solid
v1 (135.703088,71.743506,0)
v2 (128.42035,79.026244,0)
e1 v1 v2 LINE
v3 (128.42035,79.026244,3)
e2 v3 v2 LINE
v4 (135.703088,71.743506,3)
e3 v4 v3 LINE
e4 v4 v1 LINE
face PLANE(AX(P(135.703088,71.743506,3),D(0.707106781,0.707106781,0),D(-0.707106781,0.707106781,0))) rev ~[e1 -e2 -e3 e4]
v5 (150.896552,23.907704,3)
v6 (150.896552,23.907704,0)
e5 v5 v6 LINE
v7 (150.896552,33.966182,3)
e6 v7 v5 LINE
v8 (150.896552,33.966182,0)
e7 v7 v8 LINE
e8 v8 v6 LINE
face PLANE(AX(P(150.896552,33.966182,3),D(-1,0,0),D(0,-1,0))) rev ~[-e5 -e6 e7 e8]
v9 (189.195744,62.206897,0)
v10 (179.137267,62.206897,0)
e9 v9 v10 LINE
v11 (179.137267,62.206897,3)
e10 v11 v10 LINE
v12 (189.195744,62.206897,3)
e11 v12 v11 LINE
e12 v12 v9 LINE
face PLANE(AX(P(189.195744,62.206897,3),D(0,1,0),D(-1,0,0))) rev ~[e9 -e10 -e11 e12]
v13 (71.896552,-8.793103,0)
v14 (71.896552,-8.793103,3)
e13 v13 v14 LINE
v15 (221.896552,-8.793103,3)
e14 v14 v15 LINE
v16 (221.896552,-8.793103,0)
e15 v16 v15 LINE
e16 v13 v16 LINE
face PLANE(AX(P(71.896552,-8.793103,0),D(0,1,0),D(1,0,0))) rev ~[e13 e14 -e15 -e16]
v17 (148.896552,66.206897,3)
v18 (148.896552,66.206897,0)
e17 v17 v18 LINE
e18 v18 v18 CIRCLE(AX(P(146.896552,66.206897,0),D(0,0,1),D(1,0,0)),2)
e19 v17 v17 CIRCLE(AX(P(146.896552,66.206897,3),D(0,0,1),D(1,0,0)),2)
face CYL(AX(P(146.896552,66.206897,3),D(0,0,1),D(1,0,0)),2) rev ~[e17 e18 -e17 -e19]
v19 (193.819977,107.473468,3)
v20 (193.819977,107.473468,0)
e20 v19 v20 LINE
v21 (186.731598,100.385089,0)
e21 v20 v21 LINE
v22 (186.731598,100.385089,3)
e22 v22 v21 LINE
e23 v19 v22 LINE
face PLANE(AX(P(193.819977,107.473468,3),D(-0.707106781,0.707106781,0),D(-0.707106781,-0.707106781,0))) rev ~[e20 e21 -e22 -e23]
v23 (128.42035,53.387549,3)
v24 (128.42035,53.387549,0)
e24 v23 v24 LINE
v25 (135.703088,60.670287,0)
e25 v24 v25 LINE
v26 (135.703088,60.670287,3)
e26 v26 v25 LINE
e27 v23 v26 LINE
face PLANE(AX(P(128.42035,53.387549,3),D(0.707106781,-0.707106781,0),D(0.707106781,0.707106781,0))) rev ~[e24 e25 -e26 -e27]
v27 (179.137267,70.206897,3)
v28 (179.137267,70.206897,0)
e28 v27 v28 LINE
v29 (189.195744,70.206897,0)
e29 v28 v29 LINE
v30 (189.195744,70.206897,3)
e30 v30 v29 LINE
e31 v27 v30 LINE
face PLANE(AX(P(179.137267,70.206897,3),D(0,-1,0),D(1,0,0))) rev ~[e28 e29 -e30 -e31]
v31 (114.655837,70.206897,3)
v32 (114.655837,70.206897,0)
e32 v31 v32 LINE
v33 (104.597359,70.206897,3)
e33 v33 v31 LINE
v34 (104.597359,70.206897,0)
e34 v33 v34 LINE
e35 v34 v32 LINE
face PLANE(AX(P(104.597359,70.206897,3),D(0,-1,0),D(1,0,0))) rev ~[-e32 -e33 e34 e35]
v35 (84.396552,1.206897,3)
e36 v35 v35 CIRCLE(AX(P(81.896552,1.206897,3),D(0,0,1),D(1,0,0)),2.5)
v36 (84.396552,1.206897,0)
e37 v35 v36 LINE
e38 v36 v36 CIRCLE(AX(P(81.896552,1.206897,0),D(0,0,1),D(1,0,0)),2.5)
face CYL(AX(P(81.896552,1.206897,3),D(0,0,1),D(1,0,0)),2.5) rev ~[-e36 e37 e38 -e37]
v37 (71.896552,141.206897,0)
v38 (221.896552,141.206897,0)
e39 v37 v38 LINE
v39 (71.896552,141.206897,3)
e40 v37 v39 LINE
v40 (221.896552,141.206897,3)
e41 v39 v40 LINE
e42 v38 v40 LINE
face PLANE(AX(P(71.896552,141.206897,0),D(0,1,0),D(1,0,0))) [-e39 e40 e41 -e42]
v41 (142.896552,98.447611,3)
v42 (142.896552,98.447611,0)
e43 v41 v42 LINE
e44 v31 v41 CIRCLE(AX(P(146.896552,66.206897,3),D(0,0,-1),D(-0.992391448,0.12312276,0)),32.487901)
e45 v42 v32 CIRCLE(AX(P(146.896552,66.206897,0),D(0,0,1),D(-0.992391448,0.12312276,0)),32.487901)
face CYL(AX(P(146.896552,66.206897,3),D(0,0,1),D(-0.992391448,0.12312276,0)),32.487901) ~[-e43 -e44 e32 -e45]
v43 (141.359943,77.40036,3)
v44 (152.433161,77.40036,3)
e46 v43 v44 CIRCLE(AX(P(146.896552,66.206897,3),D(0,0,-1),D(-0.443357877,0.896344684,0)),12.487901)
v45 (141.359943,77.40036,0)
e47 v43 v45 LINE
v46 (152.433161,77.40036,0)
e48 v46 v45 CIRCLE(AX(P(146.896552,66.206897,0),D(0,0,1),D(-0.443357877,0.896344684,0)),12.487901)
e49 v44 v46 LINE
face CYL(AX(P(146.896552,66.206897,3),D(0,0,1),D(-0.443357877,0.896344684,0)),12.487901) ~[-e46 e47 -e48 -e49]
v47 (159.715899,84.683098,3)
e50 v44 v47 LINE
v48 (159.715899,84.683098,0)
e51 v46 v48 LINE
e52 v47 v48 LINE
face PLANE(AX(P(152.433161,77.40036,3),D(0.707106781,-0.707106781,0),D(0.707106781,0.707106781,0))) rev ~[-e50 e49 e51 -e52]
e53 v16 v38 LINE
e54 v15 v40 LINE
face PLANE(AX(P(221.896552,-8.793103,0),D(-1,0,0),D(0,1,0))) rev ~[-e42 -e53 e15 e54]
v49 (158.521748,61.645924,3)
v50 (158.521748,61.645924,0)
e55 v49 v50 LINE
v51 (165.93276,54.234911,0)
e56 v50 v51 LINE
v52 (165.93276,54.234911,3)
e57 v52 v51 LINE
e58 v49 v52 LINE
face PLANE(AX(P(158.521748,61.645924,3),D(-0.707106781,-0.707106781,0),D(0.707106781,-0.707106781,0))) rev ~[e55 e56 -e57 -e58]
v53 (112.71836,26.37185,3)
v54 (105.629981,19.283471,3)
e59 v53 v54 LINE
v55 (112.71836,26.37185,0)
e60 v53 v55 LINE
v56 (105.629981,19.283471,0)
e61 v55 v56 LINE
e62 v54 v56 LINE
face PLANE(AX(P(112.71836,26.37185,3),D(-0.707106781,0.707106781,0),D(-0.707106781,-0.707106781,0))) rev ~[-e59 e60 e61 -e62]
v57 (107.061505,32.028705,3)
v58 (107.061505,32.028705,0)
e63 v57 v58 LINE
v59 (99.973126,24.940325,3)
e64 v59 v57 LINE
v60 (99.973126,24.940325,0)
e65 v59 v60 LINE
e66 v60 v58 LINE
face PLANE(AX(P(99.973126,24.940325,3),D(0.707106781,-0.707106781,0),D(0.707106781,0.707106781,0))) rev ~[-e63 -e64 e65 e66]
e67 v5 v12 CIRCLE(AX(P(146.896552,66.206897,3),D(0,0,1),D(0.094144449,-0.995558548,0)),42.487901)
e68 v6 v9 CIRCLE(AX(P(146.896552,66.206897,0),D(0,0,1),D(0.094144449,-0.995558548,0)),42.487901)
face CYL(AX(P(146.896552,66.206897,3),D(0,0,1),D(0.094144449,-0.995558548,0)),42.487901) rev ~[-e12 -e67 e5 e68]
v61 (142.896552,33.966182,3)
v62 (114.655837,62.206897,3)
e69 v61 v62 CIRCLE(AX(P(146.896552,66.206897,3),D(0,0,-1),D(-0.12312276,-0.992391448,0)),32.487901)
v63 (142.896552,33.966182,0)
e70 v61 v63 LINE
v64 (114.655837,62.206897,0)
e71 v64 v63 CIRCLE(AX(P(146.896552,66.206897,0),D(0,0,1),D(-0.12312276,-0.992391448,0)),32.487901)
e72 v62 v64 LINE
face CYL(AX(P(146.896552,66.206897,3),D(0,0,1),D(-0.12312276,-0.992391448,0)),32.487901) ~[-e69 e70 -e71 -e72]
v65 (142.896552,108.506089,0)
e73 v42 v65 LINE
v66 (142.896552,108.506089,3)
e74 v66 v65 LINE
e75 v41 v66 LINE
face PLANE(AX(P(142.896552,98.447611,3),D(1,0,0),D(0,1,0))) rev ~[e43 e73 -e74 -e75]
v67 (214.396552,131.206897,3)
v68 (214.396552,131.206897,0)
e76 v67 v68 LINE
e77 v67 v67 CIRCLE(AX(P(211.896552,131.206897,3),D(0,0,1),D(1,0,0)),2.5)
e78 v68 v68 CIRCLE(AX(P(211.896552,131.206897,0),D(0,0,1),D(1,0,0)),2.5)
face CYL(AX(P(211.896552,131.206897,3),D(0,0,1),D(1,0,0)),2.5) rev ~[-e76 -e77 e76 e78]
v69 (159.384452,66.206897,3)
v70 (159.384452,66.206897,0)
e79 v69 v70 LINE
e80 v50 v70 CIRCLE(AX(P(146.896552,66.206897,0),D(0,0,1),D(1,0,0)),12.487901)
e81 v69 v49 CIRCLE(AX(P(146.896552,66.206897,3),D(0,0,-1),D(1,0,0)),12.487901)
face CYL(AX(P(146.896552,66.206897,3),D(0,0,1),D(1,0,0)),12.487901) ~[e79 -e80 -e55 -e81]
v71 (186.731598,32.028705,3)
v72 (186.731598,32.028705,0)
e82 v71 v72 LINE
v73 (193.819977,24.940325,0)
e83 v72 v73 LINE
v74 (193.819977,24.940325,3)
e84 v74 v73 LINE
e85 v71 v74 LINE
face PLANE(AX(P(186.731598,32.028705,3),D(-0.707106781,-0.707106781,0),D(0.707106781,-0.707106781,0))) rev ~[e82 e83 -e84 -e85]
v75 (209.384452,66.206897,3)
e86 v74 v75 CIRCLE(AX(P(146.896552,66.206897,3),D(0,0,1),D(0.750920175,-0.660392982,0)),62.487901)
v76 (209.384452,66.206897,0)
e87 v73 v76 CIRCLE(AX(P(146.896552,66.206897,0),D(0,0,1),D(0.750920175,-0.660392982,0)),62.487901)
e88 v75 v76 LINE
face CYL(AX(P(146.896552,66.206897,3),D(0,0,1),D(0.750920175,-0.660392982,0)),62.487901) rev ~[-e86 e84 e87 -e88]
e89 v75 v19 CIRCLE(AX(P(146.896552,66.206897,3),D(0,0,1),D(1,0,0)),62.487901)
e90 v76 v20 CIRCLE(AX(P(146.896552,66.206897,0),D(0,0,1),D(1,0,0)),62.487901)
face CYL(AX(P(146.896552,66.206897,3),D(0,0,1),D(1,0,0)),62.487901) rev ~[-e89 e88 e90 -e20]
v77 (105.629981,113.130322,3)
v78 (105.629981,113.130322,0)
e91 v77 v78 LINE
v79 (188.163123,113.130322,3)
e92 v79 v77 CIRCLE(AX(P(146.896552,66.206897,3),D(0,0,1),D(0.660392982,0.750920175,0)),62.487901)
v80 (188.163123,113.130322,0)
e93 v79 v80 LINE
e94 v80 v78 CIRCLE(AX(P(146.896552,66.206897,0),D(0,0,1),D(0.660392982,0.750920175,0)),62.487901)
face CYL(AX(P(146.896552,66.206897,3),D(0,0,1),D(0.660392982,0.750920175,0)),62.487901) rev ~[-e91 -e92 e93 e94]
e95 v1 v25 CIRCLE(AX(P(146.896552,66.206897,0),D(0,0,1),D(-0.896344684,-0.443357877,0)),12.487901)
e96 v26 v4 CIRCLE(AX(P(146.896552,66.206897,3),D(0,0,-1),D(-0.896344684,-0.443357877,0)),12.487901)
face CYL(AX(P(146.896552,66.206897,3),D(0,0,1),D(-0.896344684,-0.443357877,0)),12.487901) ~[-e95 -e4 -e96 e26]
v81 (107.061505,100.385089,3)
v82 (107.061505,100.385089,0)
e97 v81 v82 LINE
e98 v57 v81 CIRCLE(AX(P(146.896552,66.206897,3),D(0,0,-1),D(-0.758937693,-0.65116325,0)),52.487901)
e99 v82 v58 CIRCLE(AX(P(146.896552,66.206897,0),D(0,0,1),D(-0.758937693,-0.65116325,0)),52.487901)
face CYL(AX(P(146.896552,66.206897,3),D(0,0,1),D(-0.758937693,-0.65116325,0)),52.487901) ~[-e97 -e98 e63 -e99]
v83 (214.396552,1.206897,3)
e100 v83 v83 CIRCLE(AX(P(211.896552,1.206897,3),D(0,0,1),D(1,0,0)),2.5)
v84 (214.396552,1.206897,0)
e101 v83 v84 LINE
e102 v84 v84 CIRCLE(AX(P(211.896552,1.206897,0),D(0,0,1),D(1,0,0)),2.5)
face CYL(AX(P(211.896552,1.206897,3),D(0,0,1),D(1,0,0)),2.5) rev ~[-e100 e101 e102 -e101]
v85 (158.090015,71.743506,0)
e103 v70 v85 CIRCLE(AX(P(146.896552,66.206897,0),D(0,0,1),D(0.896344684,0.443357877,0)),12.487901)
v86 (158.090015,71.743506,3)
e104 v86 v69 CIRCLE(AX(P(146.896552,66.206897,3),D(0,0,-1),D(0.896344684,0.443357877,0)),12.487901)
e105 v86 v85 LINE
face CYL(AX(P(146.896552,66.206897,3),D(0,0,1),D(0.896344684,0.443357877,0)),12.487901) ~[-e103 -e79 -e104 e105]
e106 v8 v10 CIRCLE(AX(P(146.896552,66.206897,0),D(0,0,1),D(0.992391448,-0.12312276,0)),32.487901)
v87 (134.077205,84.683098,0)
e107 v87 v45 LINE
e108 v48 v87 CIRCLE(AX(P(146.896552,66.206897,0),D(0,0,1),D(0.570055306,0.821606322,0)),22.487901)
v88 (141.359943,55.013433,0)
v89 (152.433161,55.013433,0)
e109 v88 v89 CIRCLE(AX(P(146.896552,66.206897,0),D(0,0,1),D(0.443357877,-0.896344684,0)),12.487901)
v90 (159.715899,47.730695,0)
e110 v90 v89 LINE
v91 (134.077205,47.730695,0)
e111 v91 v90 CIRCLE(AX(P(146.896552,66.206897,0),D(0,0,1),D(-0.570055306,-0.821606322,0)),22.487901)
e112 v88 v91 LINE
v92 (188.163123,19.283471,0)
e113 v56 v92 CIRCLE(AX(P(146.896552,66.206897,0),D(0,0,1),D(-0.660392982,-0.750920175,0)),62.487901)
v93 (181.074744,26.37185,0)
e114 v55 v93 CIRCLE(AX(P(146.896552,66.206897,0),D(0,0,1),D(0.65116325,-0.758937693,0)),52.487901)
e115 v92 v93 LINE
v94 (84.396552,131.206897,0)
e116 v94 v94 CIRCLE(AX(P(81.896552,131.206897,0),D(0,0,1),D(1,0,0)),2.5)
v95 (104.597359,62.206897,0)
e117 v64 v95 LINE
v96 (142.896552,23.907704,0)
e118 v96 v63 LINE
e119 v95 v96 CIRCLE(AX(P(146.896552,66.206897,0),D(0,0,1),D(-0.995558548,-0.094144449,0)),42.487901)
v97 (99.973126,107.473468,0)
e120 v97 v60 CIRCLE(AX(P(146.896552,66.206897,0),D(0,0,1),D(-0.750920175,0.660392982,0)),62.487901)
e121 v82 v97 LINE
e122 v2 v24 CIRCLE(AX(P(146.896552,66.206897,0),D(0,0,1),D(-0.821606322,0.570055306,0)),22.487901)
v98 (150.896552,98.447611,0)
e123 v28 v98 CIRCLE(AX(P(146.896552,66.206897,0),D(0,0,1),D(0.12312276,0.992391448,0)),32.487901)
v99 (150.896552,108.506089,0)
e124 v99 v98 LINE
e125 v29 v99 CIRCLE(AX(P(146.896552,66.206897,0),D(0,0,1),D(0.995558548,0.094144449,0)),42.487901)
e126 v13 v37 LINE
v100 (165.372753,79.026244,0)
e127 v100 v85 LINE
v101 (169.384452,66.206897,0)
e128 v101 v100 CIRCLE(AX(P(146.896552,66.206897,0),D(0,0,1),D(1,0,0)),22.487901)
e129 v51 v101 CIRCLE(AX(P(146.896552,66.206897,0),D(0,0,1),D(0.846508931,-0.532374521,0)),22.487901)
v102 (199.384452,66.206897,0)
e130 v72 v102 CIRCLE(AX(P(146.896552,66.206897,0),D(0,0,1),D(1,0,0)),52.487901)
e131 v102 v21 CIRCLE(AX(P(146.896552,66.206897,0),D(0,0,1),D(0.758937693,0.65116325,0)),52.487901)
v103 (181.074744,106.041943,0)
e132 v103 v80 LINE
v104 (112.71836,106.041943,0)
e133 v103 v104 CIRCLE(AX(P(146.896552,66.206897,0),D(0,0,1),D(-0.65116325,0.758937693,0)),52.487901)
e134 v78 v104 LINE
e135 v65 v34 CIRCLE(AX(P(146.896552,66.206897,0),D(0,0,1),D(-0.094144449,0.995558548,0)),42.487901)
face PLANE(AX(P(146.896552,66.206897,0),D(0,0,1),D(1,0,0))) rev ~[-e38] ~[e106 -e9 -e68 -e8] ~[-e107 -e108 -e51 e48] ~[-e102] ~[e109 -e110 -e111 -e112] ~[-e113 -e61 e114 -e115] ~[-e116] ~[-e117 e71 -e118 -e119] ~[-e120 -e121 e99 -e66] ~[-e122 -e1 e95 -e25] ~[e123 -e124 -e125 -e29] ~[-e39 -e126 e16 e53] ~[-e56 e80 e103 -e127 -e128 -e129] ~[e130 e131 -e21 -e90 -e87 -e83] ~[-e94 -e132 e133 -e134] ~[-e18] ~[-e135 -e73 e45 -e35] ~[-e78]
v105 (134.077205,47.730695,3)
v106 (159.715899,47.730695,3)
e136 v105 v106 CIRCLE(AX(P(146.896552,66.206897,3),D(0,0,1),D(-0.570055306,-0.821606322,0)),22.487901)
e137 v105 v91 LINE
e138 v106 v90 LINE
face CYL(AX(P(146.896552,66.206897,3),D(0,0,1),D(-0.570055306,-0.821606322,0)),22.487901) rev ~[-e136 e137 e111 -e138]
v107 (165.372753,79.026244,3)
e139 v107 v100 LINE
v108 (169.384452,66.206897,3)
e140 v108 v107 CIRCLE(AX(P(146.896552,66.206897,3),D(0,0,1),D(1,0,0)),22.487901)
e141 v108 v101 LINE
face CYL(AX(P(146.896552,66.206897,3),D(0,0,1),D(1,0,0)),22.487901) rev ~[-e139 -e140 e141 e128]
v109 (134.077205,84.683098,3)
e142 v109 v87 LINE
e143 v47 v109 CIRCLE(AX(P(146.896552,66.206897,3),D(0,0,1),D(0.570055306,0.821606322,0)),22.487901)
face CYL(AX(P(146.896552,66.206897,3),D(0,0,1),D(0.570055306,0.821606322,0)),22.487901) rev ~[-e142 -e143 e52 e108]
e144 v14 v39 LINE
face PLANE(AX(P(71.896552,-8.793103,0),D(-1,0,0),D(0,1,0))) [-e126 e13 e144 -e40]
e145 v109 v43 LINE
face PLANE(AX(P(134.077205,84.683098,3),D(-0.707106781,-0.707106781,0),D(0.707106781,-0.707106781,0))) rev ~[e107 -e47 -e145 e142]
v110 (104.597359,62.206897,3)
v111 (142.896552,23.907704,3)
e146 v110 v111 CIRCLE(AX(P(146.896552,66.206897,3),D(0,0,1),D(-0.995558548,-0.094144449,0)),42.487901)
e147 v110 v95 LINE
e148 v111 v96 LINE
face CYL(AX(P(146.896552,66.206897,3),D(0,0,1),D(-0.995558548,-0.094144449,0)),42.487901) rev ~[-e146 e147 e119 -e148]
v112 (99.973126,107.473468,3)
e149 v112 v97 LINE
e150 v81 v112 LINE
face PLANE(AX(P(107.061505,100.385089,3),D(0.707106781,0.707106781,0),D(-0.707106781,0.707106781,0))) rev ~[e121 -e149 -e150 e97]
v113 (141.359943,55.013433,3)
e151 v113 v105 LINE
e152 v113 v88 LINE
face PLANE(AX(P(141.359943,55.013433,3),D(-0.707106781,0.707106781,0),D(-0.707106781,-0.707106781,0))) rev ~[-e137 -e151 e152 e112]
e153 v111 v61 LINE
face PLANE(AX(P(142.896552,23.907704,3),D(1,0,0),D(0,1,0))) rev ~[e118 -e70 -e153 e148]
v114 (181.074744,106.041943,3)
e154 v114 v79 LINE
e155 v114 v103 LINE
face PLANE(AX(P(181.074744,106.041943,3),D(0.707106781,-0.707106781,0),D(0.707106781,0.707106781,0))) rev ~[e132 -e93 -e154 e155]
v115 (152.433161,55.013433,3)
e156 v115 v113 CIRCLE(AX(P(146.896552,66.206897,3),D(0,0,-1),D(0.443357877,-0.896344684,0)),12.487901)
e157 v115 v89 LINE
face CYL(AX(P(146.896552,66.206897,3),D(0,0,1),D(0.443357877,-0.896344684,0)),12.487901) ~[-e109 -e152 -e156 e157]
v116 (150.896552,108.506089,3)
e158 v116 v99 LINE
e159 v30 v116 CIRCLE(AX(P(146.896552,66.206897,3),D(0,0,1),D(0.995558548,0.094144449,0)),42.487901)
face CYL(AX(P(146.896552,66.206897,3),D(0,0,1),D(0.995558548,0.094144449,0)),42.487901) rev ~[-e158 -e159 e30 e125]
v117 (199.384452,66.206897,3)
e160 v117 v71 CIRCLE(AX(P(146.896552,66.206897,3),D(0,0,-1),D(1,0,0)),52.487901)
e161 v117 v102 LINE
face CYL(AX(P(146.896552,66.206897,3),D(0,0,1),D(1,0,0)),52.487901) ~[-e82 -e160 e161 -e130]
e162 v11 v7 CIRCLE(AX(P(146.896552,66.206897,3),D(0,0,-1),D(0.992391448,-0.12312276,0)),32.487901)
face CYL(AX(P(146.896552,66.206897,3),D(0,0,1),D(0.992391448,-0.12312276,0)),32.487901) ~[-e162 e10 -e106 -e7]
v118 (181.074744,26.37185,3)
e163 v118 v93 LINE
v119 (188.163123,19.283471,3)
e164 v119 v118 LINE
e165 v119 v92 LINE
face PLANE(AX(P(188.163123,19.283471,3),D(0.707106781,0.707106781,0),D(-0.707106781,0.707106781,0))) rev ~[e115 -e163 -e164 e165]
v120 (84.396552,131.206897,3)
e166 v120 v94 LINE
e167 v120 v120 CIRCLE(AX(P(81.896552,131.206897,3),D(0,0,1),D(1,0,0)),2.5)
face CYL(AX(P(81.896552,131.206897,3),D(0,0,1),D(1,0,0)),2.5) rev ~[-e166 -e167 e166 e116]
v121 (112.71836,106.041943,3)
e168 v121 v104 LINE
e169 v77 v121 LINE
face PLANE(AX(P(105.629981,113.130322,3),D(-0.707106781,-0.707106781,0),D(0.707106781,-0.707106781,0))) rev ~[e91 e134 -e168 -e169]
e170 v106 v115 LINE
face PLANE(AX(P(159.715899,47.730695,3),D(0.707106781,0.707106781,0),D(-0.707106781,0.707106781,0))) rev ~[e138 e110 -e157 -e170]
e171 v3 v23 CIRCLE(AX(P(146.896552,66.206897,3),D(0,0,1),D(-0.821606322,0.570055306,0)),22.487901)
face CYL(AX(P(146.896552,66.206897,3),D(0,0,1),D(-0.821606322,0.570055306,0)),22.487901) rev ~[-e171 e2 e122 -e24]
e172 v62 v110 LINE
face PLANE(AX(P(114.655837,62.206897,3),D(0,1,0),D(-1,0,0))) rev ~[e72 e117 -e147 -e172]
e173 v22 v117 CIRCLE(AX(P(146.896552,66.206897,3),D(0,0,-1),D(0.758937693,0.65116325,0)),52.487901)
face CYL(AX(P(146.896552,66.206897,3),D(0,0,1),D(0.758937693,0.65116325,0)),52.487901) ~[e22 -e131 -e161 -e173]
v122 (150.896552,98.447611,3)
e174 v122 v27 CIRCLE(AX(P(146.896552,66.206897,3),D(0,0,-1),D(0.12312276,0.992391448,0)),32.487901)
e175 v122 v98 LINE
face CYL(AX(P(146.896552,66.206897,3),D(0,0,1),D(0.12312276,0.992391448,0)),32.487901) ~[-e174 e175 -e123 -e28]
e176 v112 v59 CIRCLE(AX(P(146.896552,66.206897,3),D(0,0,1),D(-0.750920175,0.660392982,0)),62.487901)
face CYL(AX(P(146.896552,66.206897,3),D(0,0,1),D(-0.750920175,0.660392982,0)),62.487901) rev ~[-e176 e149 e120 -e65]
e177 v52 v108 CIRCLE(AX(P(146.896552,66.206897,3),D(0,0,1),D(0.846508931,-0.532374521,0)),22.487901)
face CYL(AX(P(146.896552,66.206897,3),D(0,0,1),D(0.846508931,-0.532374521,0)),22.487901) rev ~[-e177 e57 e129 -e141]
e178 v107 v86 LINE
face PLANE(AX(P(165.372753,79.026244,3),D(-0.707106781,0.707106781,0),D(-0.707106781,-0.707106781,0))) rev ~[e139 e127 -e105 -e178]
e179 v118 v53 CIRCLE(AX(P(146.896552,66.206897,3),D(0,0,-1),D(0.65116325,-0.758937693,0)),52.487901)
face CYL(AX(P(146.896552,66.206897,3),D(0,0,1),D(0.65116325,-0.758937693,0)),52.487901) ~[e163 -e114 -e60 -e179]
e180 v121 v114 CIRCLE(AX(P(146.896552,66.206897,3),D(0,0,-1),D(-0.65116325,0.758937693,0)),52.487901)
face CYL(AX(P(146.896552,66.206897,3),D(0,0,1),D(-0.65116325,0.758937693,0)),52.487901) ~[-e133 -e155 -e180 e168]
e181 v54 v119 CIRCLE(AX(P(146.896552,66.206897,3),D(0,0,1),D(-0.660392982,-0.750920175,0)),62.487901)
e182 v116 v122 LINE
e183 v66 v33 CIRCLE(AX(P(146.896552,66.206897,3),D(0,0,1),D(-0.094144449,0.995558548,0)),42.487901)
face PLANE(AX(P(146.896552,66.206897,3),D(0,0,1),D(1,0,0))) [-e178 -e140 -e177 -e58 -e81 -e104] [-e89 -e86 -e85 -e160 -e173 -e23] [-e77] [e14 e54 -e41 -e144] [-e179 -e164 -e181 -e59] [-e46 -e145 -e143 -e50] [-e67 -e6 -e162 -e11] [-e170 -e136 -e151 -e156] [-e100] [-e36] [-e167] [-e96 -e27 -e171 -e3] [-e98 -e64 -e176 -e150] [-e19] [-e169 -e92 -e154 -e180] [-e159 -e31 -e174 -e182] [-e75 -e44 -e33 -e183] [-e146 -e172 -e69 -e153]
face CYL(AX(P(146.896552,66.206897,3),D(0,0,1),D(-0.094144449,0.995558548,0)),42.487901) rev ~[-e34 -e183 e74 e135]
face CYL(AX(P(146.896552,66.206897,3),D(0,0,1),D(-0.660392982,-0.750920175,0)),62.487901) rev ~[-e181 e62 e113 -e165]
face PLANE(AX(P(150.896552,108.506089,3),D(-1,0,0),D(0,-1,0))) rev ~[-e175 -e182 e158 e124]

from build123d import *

# Parameters (mm, degrees)
SKETCH1_W           = 150
SKETCH1_H           = 150
BOSS_EXTRUDE1_DEPTH = 3
CUT_EXTRUDE1_DEPTH  = 264.0332057
SKETCH4_R           = 2.5
CUT_EXTRUDE2_DEPTH  = 3
SKETCH5_R           = 2
CUT_EXTRUDE3_DEPTH  = 10


with BuildPart() as part:
    # Sketch1 → Boss-Extrude1 (new body)
    with BuildSketch(Plane.XY):
        with Locations((146.896551724, 66.206896552)):
            Rectangle(SKETCH1_W, SKETCH1_H)
    extrude(amount=BOSS_EXTRUDE1_DEPTH)

    # Sketch2 → Cut-Extrude1 (cut, through all)
    with BuildSketch(Plane.XY.offset(3)):
        with BuildLine():
            ThreePointArc((188.163122783, 113.13032186), (146.896551724, 128.694797217), (105.629980666, 113.13032186))
            Line((105.629980666, 113.13032186), (112.718359737, 106.041942789))
            ThreePointArc((112.718359737, 106.041942789), (146.896551724, 118.694797217), (181.074743712, 106.041942789))
            Line((181.074743712, 106.041942789), (188.163122783, 113.13032186))
        make_face()
        with BuildLine():
            Line((107.061505487, 100.385088539), (99.973126416, 107.47346761))
            ThreePointArc((99.973126416, 107.47346761), (84.408651059, 66.206896552), (99.973126416, 24.940325493))
            Line((99.973126416, 24.940325493), (107.061505487, 32.028704564))
            ThreePointArc((107.061505487, 32.028704564), (94.408651059, 66.206896552), (107.061505487, 100.385088539))
        make_face()
        with BuildLine():
            ThreePointArc((209.384452389, 66.206896552), (205.363995952, 88.259009716), (193.819977032, 107.47346761))
            Line((193.819977032, 107.47346761), (186.731597961, 100.385088539))
            ThreePointArc((186.731597961, 100.385088539), (196.119705149, 84.429434333), (199.384452389, 66.206896552))
            ThreePointArc((199.384452389, 66.206896552), (196.119705149, 47.984358771), (186.731597961, 32.028704564))
            Line((186.731597961, 32.028704564), (193.819977032, 24.940325493))
            ThreePointArc((193.819977032, 24.940325493), (205.363995952, 44.154783387), (209.384452389, 66.206896552))
        make_face()
        with BuildLine():
            Line((112.718359737, 26.371850315), (105.629980666, 19.283471244))
            ThreePointArc((105.629980666, 19.283471244), (146.896551724, 3.718995886), (188.163122783, 19.283471244))
            Line((188.163122783, 19.283471244), (181.074743712, 26.371850315))
            ThreePointArc((181.074743712, 26.371850315), (146.896551724, 13.718995886), (112.718359737, 26.371850315))
        make_face()
        with BuildLine():
            ThreePointArc((150.896551724, 23.907703853), (176.940034403, 36.163413873), (189.195744423, 62.206896552))
            Line((189.195744423, 62.206896552), (179.137266506, 62.206896552))
            ThreePointArc((179.137266506, 62.206896552), (169.868966591, 43.234481685), (150.896551724, 33.96618177))
            Line((150.896551724, 33.96618177), (150.896551724, 23.907703853))
        make_face()
        with BuildLine():
            Line((114.655836942, 62.206896552), (104.597359026, 62.206896552))
            ThreePointArc((104.597359026, 62.206896552), (116.853069045, 36.163413873), (142.896551724, 23.907703853))
            Line((142.896551724, 23.907703853), (142.896551724, 33.96618177))
            ThreePointArc((142.896551724, 33.96618177), (123.924136857, 43.234481685), (114.655836942, 62.206896552))
        make_face()
        with BuildLine():
            Line((142.896551724, 98.447611333), (142.896551724, 108.50608925))
            ThreePointArc((142.896551724, 108.50608925), (116.853069045, 96.250379231), (104.597359026, 70.206896552))
            Line((104.597359026, 70.206896552), (114.655836942, 70.206896552))
            ThreePointArc((114.655836942, 70.206896552), (123.924136857, 89.179311419), (142.896551724, 98.447611333))
        make_face()
        with BuildLine():
            ThreePointArc((189.195744423, 70.206896552), (176.940034403, 96.250379231), (150.896551724, 108.50608925))
            Line((150.896551724, 108.50608925), (150.896551724, 98.447611333))
            ThreePointArc((150.896551724, 98.447611333), (169.868966591, 89.179311419), (179.137266506, 70.206896552))
            Line((179.137266506, 70.206896552), (189.195744423, 70.206896552))
        make_face()
        with BuildLine():
            Line((165.372753073, 79.026243651), (158.090015102, 71.74350568))
            ThreePointArc((158.090015102, 71.74350568), (159.056537781, 69.049853135), (159.384452389, 66.206896552))
            ThreePointArc((159.384452389, 66.206896552), (159.166880972, 63.885973637), (158.521748029, 61.645923641))
            Line((158.521748029, 61.645923641), (165.932760465, 54.234911206))
            ThreePointArc((165.932760465, 54.234911206), (168.504305512, 59.977076926), (169.384452389, 66.206896552))
            ThreePointArc((169.384452389, 66.206896552), (168.358106385, 72.923096956), (165.372753073, 79.026243651))
        make_face()
        with BuildLine():
            Line((134.077204625, 84.6830979), (141.359942596, 77.400359929))
            ThreePointArc((141.359942596, 77.400359929), (146.896551724, 78.694797217), (152.433160852, 77.400359929))
            Line((152.433160852, 77.400359929), (159.715898823, 84.6830979))
            ThreePointArc((159.715898823, 84.6830979), (146.896551724, 88.694797217), (134.077204625, 84.6830979))
        make_face()
        with BuildLine():
            ThreePointArc((135.703088346, 60.670287424), (134.408651059, 66.206896552), (135.703088346, 71.74350568))
            Line((135.703088346, 71.74350568), (128.420350375, 79.026243651))
            ThreePointArc((128.420350375, 79.026243651), (124.408651059, 66.206896552), (128.420350375, 53.387549452))
            Line((128.420350375, 53.387549452), (135.703088346, 60.670287424))
        make_face()
        with BuildLine():
            ThreePointArc((152.433160852, 55.013433174), (146.896551724, 53.718995886), (141.359942596, 55.013433174))
            Line((141.359942596, 55.013433174), (134.077204625, 47.730695203))
            ThreePointArc((134.077204625, 47.730695203), (146.896551724, 43.718995886), (159.715898823, 47.730695203))
            Line((159.715898823, 47.730695203), (152.433160852, 55.013433174))
        make_face()
    extrude(amount=-CUT_EXTRUDE1_DEPTH, mode=Mode.SUBTRACT)

    # Sketch4 → Cut-Extrude2 (cut)
    with BuildSketch(Plane.XY.offset(3)):
        with Locations((81.896551724, 131.206896552)):
            Circle(SKETCH4_R)
        with Locations((211.896551724, 131.206896552)):
            Circle(SKETCH4_R)
        with Locations((211.896551724, 1.206896552)):
            Circle(SKETCH4_R)
        with Locations((81.896551724, 1.206896552)):
            Circle(SKETCH4_R)
    extrude(amount=-CUT_EXTRUDE2_DEPTH, mode=Mode.SUBTRACT)

    # Sketch5 → Cut-Extrude3 (cut)
    with BuildSketch(Plane.XY.offset(3)):
        with Locations((146.896551724, 66.206896552)):
            Circle(SKETCH5_R)
    extrude(amount=-CUT_EXTRUDE3_DEPTH, mode=Mode.SUBTRACT)


solid = part.part
